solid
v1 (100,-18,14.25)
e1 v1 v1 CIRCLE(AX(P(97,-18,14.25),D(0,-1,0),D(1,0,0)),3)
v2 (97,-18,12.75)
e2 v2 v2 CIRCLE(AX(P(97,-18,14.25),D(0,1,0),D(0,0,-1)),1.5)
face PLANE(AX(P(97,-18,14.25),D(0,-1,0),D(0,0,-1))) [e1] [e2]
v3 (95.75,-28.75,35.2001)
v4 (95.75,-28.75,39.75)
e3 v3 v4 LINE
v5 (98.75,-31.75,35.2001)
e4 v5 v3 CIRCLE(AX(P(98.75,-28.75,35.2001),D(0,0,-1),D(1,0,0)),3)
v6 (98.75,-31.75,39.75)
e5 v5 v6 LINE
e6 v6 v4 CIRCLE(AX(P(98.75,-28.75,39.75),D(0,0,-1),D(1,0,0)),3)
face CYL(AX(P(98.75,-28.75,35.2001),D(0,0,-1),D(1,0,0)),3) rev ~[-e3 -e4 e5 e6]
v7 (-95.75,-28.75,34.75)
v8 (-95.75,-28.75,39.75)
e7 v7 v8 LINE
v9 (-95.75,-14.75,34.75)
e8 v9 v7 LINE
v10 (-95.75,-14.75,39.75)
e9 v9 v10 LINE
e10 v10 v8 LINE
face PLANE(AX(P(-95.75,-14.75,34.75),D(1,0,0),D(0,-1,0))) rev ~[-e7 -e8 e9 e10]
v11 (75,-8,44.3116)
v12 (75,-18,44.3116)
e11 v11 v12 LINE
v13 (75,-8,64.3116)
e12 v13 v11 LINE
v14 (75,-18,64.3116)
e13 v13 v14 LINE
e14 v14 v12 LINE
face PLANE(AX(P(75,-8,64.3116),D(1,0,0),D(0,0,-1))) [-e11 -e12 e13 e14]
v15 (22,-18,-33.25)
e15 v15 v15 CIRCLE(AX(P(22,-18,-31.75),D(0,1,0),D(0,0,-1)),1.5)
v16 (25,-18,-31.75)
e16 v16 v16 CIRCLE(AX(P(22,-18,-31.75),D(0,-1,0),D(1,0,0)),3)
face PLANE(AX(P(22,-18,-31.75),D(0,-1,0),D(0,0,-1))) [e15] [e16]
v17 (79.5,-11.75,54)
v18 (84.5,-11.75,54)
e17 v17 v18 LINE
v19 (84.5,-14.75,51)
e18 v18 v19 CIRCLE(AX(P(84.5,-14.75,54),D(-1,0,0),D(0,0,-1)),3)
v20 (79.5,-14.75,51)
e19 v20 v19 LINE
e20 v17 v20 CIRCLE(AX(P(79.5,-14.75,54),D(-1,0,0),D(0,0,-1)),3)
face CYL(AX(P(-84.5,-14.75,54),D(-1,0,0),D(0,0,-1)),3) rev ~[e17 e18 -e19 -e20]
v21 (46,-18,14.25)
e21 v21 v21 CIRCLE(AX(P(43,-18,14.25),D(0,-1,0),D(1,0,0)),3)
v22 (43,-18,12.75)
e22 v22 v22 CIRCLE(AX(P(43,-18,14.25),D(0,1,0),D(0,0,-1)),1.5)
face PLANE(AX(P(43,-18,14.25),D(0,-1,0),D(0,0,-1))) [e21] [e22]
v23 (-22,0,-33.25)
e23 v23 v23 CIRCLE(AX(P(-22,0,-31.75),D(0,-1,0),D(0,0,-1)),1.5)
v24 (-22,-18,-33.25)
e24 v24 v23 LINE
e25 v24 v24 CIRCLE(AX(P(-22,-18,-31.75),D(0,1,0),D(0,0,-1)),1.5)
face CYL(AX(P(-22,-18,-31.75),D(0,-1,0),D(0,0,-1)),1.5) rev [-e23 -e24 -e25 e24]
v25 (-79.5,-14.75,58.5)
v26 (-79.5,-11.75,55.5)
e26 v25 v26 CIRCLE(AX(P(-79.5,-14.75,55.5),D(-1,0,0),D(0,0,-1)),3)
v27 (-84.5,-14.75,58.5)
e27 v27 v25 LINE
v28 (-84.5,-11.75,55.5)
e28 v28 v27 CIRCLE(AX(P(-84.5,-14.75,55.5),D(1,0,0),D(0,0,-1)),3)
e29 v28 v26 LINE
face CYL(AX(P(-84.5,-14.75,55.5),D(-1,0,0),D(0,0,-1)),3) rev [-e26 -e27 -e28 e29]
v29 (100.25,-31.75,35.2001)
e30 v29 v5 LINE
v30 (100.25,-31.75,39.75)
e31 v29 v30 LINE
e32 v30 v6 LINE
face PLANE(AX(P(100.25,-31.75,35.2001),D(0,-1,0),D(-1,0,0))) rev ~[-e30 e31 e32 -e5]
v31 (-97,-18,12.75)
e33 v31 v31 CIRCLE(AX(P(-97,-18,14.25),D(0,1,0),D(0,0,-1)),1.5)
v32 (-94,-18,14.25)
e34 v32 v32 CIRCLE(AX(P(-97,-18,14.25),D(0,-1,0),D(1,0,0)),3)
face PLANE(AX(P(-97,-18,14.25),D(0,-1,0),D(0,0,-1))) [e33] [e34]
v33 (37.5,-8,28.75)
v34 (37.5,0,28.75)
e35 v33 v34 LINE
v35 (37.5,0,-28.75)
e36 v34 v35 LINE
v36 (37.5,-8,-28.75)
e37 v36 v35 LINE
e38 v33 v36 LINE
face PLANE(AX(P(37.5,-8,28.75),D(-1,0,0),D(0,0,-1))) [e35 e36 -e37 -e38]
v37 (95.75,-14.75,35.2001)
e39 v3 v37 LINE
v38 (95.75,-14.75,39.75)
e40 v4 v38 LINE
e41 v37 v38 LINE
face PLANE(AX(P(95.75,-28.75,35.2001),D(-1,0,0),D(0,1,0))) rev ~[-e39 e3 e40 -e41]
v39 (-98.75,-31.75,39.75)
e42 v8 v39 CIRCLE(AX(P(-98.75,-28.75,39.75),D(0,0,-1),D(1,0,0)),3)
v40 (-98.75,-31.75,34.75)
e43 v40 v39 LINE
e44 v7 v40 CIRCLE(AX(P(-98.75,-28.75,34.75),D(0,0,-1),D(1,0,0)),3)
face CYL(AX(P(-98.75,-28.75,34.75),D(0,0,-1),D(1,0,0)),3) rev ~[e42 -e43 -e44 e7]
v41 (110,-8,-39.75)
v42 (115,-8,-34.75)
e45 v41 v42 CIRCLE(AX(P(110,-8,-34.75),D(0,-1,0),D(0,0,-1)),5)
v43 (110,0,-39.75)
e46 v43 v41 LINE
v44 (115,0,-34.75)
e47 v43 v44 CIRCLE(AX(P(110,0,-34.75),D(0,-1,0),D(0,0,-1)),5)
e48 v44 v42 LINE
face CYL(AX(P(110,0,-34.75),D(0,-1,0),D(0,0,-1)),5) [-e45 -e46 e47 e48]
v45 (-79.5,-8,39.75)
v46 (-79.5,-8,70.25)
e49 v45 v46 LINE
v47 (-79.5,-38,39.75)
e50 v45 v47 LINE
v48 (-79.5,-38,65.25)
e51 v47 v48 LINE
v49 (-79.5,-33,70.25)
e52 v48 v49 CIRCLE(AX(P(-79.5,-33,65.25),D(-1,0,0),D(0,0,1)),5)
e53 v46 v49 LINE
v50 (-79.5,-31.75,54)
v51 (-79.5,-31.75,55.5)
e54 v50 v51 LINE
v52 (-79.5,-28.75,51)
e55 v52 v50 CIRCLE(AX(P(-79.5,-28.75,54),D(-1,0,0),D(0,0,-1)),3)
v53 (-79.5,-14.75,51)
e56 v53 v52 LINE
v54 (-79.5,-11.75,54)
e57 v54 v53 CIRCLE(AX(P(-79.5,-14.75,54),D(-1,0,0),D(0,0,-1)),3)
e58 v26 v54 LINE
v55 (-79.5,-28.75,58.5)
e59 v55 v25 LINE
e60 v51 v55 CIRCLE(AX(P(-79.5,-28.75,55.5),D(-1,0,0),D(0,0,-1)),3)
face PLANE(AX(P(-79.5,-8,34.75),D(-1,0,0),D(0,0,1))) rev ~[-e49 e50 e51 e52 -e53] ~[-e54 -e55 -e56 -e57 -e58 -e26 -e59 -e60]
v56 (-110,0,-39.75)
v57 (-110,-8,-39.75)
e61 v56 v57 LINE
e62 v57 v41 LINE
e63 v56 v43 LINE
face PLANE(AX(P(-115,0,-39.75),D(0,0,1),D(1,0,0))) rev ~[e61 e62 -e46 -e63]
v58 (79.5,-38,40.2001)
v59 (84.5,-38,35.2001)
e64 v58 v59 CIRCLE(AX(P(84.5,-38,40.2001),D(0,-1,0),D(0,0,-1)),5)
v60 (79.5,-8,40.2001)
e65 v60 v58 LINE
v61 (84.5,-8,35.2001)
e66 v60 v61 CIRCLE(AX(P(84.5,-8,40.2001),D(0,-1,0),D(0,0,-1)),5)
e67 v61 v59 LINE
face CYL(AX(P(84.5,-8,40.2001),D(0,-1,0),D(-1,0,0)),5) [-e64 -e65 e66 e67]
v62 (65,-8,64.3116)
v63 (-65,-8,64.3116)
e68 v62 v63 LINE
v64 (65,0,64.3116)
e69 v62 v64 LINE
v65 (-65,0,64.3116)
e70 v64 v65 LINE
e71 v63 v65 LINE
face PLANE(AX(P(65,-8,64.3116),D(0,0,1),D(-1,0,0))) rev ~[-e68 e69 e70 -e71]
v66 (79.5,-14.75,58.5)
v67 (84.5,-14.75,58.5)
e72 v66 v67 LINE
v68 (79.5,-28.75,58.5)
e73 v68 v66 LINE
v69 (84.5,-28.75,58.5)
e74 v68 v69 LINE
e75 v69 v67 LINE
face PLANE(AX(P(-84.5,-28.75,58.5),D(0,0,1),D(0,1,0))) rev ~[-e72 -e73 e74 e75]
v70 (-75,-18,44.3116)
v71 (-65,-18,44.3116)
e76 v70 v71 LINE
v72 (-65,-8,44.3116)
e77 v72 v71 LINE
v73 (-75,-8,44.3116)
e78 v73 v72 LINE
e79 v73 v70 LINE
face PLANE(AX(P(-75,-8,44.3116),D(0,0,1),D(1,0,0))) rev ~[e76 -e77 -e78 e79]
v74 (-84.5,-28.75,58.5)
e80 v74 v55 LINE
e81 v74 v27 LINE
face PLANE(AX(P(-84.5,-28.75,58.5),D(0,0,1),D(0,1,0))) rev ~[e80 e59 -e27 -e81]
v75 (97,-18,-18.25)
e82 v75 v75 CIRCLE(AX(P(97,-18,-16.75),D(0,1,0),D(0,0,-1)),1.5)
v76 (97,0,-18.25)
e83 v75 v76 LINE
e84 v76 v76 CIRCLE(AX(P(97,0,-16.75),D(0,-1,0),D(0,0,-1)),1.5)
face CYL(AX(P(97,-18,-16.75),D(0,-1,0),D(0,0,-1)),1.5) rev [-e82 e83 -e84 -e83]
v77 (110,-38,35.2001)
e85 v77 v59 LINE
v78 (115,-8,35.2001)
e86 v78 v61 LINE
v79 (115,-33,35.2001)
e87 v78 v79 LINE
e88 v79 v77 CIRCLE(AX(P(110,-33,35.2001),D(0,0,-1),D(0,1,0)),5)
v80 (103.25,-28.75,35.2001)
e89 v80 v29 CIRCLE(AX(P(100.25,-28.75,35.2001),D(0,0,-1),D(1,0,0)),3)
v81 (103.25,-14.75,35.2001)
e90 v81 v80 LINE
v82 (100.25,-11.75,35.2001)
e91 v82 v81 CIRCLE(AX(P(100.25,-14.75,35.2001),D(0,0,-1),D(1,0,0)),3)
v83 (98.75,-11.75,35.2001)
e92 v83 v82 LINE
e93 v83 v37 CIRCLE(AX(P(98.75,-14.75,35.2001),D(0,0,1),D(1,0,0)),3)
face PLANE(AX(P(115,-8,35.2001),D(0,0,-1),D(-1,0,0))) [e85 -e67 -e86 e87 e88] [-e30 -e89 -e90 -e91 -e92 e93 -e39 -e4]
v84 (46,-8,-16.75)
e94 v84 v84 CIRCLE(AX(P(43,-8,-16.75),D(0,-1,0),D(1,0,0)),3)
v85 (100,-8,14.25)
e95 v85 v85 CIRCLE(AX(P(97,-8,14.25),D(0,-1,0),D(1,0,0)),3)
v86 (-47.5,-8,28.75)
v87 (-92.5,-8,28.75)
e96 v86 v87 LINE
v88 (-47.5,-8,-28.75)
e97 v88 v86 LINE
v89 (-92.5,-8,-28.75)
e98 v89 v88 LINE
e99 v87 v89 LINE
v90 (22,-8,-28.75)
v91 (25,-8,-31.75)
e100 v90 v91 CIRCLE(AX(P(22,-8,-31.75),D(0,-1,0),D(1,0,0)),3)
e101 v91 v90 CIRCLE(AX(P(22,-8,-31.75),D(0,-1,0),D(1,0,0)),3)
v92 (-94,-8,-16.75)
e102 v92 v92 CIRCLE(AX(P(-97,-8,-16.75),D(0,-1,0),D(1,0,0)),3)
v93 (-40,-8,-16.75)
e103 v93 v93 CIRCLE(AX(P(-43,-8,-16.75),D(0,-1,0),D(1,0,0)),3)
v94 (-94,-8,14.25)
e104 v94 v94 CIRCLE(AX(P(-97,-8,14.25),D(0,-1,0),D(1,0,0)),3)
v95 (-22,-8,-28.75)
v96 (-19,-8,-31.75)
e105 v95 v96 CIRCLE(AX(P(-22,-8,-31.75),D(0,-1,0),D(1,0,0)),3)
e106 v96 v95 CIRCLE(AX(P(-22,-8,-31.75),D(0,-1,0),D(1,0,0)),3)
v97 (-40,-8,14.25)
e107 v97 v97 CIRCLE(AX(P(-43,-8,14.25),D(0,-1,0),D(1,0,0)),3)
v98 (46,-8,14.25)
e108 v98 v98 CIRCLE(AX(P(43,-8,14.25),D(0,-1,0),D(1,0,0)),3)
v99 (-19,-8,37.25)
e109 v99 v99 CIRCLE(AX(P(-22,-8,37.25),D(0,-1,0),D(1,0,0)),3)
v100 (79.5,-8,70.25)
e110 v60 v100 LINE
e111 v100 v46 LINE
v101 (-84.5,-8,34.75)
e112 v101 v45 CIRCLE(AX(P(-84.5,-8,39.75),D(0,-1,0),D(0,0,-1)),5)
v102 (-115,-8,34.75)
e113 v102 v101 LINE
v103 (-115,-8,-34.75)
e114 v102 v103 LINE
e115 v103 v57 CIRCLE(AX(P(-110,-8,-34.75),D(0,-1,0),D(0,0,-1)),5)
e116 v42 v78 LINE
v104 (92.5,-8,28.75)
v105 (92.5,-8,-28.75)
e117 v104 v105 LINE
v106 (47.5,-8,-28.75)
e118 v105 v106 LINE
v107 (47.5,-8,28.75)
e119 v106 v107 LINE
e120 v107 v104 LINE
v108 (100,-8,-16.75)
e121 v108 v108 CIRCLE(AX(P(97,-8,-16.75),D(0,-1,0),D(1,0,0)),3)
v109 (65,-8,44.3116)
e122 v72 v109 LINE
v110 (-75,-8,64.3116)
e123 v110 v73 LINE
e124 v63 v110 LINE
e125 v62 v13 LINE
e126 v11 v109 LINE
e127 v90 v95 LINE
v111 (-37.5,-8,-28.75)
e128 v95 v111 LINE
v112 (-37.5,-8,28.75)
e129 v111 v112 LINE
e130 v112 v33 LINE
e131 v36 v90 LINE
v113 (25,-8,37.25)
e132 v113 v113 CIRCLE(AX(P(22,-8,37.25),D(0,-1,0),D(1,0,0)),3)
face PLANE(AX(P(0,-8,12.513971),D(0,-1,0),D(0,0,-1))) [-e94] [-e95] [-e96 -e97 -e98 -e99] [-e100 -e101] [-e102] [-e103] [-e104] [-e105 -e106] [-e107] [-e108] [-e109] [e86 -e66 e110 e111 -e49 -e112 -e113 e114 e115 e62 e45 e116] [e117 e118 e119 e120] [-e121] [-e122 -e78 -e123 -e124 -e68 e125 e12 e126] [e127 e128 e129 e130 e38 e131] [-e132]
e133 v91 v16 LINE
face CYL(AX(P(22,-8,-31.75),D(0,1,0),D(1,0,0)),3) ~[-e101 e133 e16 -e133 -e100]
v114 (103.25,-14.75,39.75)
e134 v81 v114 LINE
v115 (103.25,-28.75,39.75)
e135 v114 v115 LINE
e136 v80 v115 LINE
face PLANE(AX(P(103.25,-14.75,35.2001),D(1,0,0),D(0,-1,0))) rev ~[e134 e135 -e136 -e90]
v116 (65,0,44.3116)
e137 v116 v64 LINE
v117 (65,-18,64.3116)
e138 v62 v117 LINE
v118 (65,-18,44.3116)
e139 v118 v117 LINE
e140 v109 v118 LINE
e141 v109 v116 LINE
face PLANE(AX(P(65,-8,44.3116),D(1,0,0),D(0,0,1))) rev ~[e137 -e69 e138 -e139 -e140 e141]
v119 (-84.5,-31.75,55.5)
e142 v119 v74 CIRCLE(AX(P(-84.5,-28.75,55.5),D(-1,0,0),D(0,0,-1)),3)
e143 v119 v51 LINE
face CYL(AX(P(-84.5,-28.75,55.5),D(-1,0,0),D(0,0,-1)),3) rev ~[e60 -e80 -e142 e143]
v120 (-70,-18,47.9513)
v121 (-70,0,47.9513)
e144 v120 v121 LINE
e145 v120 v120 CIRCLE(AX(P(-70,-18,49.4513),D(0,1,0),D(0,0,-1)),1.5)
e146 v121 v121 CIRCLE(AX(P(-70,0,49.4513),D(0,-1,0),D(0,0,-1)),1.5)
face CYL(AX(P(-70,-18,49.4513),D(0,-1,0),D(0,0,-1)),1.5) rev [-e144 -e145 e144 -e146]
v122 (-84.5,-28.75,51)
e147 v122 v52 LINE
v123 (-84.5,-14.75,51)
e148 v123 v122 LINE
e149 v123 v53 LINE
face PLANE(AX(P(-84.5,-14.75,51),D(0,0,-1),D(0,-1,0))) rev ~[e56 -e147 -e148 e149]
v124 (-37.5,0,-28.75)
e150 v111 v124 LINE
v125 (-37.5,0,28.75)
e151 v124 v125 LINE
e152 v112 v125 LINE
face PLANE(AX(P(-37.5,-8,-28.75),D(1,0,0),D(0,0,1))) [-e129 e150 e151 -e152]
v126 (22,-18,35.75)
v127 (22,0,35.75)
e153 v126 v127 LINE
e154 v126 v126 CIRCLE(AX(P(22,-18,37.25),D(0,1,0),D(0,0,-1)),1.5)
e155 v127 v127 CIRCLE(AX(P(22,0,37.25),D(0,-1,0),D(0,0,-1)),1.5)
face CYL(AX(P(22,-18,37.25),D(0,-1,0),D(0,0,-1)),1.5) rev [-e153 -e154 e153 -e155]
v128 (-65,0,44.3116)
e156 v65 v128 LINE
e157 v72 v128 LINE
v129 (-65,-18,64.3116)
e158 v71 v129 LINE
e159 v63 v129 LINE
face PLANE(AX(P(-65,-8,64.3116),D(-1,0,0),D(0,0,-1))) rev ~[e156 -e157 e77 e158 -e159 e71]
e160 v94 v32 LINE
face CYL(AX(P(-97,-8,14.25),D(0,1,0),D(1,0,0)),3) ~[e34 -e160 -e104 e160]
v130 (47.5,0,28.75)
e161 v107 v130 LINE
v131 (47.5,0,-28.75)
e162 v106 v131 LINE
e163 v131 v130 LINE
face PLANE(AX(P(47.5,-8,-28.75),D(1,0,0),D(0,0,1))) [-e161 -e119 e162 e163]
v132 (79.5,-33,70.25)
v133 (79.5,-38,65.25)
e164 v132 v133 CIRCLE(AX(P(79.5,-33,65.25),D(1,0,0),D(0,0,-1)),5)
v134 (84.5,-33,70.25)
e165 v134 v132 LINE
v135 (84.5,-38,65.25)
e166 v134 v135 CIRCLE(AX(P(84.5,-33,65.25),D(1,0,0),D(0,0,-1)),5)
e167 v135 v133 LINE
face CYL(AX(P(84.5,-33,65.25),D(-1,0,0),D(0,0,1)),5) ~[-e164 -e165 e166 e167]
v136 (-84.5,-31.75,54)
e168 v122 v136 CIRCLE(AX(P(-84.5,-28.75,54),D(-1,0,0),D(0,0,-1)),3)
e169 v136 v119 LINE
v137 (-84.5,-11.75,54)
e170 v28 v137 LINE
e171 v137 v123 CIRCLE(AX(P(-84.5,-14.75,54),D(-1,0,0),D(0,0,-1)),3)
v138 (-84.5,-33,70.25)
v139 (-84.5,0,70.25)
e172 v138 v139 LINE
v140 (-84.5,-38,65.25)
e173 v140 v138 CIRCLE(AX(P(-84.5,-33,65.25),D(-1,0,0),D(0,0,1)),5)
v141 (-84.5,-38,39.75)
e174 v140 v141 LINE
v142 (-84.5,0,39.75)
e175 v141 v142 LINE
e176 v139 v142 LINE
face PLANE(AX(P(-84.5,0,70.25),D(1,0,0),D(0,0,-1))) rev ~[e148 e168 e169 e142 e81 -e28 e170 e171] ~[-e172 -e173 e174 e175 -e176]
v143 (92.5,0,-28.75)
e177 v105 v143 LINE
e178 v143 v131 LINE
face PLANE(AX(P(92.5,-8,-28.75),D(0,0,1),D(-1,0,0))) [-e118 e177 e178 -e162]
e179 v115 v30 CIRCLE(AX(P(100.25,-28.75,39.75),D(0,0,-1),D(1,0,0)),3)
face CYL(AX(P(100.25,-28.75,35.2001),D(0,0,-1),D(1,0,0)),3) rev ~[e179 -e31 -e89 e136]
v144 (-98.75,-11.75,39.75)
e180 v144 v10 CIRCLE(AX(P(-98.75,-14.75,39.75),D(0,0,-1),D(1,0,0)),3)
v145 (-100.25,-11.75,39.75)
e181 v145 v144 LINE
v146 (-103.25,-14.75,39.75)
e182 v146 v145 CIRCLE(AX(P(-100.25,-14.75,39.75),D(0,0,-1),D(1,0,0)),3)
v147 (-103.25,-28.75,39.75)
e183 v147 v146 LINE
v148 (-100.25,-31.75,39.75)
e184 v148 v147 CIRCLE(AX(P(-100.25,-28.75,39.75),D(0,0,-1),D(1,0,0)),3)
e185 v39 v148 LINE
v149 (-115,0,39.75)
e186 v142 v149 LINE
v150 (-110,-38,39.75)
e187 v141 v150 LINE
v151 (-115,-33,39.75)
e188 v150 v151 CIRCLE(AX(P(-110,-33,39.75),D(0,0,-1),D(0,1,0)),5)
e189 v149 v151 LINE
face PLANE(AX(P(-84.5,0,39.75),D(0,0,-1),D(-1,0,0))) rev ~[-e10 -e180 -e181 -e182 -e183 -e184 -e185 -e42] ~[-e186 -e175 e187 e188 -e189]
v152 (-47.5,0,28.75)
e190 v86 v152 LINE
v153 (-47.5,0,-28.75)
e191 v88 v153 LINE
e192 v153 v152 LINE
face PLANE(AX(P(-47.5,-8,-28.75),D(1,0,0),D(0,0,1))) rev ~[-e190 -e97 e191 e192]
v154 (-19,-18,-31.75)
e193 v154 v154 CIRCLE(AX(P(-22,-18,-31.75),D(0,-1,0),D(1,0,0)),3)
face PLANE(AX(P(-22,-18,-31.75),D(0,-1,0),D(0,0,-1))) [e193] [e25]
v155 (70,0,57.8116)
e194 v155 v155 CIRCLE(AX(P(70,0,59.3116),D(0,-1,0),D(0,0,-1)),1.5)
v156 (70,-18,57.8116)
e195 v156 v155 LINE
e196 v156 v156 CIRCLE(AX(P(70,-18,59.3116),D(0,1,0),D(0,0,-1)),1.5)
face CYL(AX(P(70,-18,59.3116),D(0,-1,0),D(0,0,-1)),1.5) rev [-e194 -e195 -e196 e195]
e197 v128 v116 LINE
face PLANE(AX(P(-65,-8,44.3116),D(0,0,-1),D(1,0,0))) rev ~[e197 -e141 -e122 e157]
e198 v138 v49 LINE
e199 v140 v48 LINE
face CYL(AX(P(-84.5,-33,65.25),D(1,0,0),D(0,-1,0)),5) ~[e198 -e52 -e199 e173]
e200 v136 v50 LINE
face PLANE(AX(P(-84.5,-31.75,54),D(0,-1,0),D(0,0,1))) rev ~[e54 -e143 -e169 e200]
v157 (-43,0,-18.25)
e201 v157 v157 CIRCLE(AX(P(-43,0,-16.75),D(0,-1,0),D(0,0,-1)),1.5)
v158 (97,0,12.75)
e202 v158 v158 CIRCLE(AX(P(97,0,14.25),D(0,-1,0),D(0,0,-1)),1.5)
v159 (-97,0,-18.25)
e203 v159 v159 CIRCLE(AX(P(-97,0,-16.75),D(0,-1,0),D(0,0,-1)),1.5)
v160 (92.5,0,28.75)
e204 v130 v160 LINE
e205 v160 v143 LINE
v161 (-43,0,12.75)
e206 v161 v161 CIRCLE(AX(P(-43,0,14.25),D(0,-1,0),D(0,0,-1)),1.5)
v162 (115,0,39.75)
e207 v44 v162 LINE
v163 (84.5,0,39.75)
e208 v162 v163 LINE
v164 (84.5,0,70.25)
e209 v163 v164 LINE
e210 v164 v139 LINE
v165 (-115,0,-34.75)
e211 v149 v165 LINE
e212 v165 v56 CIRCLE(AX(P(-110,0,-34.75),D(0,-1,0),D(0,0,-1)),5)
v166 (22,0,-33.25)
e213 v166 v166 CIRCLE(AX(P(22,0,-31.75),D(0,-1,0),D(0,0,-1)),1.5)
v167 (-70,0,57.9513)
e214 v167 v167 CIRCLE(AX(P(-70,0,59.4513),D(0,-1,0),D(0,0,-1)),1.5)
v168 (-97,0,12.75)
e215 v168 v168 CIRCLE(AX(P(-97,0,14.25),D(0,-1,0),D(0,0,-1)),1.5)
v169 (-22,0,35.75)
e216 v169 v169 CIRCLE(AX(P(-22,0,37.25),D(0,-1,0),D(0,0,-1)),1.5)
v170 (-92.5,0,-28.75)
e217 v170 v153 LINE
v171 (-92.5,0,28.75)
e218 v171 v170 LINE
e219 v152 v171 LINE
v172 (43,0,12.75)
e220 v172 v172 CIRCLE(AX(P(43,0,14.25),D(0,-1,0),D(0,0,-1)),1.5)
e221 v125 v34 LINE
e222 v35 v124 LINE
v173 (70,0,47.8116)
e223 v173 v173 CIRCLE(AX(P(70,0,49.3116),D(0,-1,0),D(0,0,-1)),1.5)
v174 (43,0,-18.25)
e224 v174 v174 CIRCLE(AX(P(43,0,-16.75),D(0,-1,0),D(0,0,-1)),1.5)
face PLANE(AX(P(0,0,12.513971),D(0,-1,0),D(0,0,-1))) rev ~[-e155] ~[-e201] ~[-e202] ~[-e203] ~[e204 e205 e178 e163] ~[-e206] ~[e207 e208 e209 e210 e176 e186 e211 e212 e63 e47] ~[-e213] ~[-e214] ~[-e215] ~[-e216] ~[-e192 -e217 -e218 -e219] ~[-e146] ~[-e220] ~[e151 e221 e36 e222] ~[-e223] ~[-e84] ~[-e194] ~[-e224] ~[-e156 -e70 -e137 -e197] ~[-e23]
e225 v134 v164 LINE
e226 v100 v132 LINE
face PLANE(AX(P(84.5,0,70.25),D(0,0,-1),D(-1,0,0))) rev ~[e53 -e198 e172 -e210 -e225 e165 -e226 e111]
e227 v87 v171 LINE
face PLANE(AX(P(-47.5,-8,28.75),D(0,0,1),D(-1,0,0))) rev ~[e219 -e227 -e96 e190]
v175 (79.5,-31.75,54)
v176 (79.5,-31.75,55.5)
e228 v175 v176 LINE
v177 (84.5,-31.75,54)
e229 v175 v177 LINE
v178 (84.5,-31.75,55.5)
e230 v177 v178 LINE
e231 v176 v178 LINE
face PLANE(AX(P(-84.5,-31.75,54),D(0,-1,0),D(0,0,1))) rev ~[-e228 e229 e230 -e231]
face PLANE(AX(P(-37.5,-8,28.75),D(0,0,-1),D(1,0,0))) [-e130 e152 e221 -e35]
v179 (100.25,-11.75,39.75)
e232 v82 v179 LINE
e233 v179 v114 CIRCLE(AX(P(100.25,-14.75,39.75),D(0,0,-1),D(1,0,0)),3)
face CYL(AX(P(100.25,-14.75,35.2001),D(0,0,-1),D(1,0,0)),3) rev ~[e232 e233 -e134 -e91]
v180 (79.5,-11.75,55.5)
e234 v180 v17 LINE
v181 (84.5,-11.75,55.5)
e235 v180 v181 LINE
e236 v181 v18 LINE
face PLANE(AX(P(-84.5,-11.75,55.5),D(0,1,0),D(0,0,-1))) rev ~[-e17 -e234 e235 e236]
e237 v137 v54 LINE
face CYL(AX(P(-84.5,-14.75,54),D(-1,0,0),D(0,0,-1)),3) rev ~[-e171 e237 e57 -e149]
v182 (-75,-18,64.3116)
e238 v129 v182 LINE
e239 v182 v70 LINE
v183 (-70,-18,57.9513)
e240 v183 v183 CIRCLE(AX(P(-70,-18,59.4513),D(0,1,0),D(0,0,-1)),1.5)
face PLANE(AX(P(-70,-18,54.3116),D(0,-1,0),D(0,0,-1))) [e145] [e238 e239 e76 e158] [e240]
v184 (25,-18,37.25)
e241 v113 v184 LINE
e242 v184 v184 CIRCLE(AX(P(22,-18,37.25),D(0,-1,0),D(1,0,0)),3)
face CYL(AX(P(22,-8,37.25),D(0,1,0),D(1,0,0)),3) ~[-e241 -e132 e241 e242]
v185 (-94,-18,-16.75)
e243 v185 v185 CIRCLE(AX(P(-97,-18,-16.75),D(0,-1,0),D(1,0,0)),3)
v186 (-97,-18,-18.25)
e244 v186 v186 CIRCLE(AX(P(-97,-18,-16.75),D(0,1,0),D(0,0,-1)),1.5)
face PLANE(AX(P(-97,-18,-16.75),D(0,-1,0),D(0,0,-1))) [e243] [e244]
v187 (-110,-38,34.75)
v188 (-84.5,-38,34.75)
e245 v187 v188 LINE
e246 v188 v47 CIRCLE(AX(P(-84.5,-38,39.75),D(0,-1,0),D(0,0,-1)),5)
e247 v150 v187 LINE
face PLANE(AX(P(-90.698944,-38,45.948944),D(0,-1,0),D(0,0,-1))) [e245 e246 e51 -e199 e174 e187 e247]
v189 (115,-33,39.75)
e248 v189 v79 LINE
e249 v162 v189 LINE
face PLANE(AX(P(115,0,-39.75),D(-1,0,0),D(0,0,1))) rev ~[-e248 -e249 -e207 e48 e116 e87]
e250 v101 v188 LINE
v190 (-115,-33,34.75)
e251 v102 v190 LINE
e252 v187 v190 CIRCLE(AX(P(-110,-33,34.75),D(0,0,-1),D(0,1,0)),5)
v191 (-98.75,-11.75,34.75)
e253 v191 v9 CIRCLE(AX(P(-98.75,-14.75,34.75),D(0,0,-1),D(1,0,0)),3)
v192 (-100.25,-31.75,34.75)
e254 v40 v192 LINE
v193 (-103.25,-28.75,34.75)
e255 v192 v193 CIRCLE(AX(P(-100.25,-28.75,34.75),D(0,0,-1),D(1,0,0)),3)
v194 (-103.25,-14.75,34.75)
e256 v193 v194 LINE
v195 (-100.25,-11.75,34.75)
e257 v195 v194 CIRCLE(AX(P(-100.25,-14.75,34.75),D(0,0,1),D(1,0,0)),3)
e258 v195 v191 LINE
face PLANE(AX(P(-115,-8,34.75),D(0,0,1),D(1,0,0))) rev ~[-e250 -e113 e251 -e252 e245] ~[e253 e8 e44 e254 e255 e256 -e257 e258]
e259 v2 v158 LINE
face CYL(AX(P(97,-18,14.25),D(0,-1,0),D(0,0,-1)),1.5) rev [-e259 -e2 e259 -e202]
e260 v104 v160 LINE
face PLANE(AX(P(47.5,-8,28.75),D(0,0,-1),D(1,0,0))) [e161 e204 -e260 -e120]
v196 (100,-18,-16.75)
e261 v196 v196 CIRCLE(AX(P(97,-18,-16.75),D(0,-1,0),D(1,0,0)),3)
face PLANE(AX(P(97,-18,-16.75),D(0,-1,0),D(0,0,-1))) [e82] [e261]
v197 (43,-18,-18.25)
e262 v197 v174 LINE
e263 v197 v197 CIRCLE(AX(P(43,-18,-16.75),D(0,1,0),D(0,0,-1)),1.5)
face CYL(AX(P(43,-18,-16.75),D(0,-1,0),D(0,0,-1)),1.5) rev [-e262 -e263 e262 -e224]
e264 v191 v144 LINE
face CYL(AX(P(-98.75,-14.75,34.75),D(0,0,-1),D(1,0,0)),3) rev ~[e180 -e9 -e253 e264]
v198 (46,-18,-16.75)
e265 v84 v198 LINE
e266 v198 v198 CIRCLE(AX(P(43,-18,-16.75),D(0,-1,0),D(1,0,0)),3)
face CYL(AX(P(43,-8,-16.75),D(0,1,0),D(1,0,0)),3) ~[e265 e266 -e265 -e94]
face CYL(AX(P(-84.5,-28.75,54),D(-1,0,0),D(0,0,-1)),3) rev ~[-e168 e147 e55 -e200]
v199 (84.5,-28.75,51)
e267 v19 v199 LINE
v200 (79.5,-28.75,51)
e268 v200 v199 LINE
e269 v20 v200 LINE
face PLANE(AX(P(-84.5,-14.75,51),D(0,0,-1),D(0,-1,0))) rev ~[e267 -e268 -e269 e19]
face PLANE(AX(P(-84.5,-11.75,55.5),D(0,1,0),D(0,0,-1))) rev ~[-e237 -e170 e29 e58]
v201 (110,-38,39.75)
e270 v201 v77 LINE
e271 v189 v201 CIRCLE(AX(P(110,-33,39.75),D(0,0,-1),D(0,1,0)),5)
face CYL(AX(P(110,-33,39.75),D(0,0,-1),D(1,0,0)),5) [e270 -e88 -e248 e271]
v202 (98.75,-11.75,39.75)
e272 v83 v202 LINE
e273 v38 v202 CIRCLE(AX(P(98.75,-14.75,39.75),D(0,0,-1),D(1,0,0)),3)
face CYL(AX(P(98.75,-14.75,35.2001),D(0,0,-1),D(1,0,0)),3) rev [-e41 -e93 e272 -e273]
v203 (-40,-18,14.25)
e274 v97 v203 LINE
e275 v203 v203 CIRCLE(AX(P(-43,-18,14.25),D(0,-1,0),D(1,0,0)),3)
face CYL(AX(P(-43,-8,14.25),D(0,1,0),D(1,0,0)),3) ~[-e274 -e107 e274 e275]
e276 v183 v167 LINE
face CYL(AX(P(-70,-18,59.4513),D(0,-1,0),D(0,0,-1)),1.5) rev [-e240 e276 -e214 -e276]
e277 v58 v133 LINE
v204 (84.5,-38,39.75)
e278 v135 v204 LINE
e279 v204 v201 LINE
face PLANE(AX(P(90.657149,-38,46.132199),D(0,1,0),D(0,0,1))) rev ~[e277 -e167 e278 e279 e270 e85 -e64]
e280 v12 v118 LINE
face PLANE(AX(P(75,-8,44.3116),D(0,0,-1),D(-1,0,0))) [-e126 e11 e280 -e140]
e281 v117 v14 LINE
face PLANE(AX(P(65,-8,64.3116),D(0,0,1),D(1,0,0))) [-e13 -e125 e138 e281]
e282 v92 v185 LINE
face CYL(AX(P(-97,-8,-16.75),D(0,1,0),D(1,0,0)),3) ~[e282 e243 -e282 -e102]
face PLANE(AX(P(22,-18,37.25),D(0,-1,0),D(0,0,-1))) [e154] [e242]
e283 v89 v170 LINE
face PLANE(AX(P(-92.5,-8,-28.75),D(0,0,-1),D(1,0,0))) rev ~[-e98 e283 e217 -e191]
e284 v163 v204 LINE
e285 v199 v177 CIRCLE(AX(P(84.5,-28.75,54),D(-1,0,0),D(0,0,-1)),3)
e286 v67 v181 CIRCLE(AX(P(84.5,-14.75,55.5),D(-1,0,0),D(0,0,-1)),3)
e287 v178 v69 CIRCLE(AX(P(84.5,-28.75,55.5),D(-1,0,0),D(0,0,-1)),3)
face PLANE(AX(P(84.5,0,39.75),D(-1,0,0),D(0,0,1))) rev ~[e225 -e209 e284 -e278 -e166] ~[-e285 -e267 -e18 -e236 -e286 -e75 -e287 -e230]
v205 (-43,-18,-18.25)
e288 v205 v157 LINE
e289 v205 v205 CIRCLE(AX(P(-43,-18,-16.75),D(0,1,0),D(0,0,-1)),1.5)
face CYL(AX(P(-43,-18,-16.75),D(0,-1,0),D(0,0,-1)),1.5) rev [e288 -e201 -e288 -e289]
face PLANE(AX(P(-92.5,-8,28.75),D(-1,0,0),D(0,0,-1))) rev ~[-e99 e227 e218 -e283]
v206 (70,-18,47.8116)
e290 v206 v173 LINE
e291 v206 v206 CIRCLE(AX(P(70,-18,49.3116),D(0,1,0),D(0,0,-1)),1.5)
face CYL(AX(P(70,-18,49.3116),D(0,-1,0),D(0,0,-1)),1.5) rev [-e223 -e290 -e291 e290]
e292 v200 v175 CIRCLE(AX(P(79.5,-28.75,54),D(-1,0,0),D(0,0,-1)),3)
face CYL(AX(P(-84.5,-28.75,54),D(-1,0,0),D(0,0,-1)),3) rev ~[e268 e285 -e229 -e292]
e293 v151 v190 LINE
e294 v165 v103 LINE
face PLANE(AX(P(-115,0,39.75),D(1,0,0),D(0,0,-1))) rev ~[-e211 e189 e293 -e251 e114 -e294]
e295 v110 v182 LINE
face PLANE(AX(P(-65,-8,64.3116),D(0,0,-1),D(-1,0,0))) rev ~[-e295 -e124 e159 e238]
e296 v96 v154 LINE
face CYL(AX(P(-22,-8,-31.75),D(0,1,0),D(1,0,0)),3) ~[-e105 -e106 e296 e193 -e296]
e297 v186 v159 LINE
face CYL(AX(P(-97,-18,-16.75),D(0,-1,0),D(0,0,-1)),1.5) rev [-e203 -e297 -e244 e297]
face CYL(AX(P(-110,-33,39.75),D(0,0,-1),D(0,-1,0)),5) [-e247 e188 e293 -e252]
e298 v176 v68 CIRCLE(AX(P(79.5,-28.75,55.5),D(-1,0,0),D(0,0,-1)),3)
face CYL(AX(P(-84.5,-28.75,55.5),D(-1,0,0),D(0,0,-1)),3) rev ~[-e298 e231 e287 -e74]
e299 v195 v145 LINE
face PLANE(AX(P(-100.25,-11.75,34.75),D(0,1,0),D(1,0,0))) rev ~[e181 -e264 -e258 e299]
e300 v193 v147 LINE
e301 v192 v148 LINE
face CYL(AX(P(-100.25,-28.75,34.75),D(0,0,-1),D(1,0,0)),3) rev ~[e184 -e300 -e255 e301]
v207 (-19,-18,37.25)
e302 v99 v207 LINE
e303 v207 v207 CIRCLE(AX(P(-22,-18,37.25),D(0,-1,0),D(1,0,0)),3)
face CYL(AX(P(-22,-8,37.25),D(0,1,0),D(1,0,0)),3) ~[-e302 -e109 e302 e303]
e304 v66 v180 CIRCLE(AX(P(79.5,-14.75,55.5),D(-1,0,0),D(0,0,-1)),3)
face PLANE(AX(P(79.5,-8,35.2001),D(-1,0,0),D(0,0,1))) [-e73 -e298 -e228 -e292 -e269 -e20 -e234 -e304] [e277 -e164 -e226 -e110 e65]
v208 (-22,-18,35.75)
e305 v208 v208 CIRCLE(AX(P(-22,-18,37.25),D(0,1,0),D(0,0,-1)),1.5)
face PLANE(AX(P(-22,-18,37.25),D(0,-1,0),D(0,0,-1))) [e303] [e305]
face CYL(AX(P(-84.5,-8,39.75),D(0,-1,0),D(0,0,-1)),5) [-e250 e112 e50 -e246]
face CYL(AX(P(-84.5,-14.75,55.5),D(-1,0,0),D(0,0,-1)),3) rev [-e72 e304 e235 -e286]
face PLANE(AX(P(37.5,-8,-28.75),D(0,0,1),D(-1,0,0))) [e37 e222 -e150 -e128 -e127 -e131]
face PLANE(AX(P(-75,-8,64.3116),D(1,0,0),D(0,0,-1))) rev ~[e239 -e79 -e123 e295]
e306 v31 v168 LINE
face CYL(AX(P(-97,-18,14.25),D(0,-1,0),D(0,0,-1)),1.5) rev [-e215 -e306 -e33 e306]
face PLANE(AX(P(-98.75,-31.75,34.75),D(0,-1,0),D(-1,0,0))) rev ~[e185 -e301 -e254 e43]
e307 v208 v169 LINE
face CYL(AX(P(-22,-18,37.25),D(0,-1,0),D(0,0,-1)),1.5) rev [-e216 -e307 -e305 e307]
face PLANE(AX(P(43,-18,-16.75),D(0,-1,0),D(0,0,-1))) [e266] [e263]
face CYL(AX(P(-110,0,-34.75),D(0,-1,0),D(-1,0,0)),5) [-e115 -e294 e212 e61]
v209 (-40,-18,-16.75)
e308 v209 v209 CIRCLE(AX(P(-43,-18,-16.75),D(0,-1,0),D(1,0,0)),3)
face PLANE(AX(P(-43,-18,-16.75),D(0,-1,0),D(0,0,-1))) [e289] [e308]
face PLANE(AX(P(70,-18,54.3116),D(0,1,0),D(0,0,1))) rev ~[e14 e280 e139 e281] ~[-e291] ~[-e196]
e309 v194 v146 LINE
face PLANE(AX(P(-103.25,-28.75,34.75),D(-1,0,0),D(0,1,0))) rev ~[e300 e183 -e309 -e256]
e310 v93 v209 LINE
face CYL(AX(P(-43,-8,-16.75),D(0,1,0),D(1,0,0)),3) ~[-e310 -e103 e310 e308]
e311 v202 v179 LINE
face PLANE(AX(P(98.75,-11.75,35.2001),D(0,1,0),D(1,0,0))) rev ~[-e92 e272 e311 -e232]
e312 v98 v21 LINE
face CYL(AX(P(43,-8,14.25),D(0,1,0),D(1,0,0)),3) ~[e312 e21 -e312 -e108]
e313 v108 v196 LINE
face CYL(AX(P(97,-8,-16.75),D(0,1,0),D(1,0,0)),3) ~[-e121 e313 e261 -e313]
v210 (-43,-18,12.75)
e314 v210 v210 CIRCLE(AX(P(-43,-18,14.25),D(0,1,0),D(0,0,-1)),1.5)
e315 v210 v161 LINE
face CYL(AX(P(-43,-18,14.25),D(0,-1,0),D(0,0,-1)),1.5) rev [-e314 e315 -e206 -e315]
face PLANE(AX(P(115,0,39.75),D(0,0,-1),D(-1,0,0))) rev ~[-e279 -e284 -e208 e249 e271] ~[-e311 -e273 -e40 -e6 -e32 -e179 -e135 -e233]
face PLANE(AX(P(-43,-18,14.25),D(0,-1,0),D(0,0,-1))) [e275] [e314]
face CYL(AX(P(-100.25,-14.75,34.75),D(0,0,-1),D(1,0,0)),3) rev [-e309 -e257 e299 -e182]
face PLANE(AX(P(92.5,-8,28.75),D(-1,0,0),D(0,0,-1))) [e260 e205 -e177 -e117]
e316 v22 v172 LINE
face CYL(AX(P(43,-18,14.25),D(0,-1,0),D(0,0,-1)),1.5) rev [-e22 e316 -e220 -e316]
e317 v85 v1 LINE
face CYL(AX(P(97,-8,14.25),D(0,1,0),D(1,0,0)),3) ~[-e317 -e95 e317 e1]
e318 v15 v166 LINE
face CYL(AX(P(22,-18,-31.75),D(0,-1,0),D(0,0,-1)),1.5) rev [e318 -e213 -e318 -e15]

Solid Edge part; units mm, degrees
sketch "Sketch1" plane through (0, 0, 0) normal (0, -1, 0) x (1, 0, 0)
  line L0 (-84.5, 39.75) -> (-115, 39.75)
  line L1 (-115, 39.75) -> (-115, -39.75)
  line L2 (-115, -39.75) -> (115, -39.75)
  line L3 (115, -39.75) -> (115, 39.75)
  line L4 (115, 39.75) -> (84.5, 39.75)
  line L5 (84.5, 39.75) -> (84.5, 70.25)
  line L6 (84.5, 70.25) -> (-84.5, 70.25)
  line L7 (-84.5, 70.25) -> (-84.5, 39.75)
extrude "Protrusion1" add sketch "Sketch1" along normal blind 8
sketch "Sketch2" plane through (0, -8, 15.25) normal (0, -1, 0) x (1, 0, 0)
  line L0 (-115, 24.5) -> (-115, 19.5)
  line L1 (-115, 19.5) -> (-79.5, 19.5)
  line L2 (-79.5, 19.5) -> (-79.5, 55)
  line L3 (-84.5, 55) -> (-79.5, 55)
  line L4 (-84.5, 55) -> (-84.5, 24.5)
  line L5 (-84.5, 24.5) -> (-115, 24.5)
  line L6 (115, 19.9501) -> (79.5, 19.9501)
  line L7 (79.5, 19.9501) -> (79.5, 55)
  line L8 (84.5, 55) -> (79.5, 55)
  line L9 (84.5, 55) -> (84.5, 24.5)
  line L10 (84.5, 24.5) -> (115, 24.5)
  line L11 (115, 24.5) -> (115, 19.9501)
extrude "Protrusion2" add sketch "Sketch2" along normal blind 30
sketch "Sketch3" plane through (-97.25, -23, 34.75) normal (0, 0, -1) x (1, 0, 0)
  line L0 (1.5, -2.75) -> (1.5, 0.25) construction
  line L1 (1.5, -8.25) -> (1.5, 5.75)
  arc A0 (1.5, 5.75) -> (-1.5, 8.75) centre (-1.5, 5.75) ccw
  line L2 (-1.5, 8.75) -> (-3, 8.75)
  arc A1 (-3, 8.75) -> (-6, 5.75) centre (-3, 5.75) ccw
  line L3 (-6, 5.75) -> (-6, -8.25)
  line L4 (-6, 0.25) -> (-6, -2.75) construction
  arc A2 (-3, -11.25) -> (-6, -8.25) centre (-3, -8.25) cw
  line L5 (-3, -11.25) -> (-1.5, -11.25)
  arc A3 (-1.5, -11.25) -> (1.5, -8.25) centre (-1.5, -8.25) ccw
extrude "Cutout1" cut sketch "Sketch3" against normal blind 20
sketch "Sketch4" plane through (97.25, -23, 35.2001) normal (0, 0, -1) x (1, 0, 0)
  line L0 (6, -2.75) -> (6, 0.25) construction
  line L1 (6, -8.25) -> (6, 5.75)
  arc A0 (6, 5.75) -> (3, 8.75) centre (3, 5.75) ccw
  line L2 (3, 8.75) -> (1.5, 8.75)
  arc A1 (1.5, 8.75) -> (-1.5, 5.75) centre (1.5, 5.75) ccw
  line L3 (-1.5, 5.75) -> (-1.5, -8.25)
  line L4 (-1.5, 0.25) -> (-1.5, -2.75) construction
  arc A2 (1.5, -11.25) -> (-1.5, -8.25) centre (1.5, -8.25) cw
  line L5 (1.5, -11.25) -> (3, -11.25)
  arc A3 (3, -11.25) -> (6, -8.25) centre (3, -8.25) ccw
extrude "Cutout2" cut sketch "Sketch4" against normal blind 40
sketch "Sketch5" plane through (-84.5, -19, 55) normal (-1, 0, 0) x (0, 0, -1)
  line L0 (4, 1.25) -> (4, 4.25) construction
  line L1 (4, -4.25) -> (4, 9.75)
  arc A0 (4, 9.75) -> (1, 12.75) centre (1, 9.75) ccw
  line L2 (1, 12.75) -> (-0.5, 12.75)
  arc A1 (-0.5, 12.75) -> (-3.5, 9.75) centre (-0.5, 9.75) ccw
  line L3 (-3.5, 9.75) -> (-3.5, -4.25)
  line L4 (-3.5, 4.25) -> (-3.5, 1.25) construction
  arc A2 (-0.5, -7.25) -> (-3.5, -4.25) centre (-0.5, -4.25) cw
  line L5 (-0.5, -7.25) -> (1, -7.25)
  arc A3 (1, -7.25) -> (4, -4.25) centre (1, -4.25) ccw
extrude "Cutout3" cut sketch "Sketch5" against normal blind 200
sketch "Sketch6" plane through (0, -8, 15.25) normal (0, -1, 0) x (1, 0, 0)
  circle A0 centre (-22, 22) radius 3
  circle A1 centre (22, 22) radius 3
  circle A2 centre (22, -47) radius 3
  circle A3 centre (-22, -47) radius 3
  circle A4 centre (-43, -32) radius 3
  circle A5 centre (-43, -1) radius 3
  circle A6 centre (-97, -1) radius 3
  circle A7 centre (-97, -32) radius 3
  circle A8 centre (43, -32) radius 3
  circle A9 centre (43, -1) radius 3
  circle A10 centre (97, -1) radius 3
  circle A11 centre (97, -32) radius 3
  dimension "D1" = 37
  dimension "D2" = 60
  dimension "D3" = 50
  dimension "D4" = 75
  dimension "D5" = 60
  dimension "D6" = 37
  dimension "D7" = 5
  dimension "D8" = 15
  dimension "D9" = 15
  dimension "D10" = 3
  dimension "D11" = 3
  dimension "D12" = 3
  dimension "D13" = 3
  dimension "D14" = 3
  dimension "D15" = 20
  dimension "D16" = 20
  dimension "D17" = 3
  dimension "D18" = 3
  dimension "D19" = 3
  dimension "D20" = 3
  dimension "D21" = 3
  dimension "D22" = 56
  dimension "D23" = 41
  dimension "D24" = 28
extrude "Protrusion3" add sketch "Sketch6" along normal blind 10
hole "Hole1" at (-22, -18, 37.25) direction (0, 1, 0) diameter 3 end up to next
hole "Hole2" at (22, -18, 37.25) direction (0, 1, 0) diameter 3 end up to next
hole "Hole3" at (43, -18, 14.25) direction (0, 1, 0) diameter 3 end up to next
hole "Hole4" at (97, -18, 14.25) direction (0, 1, 0) diameter 3 end up to next
hole "Hole5" at (97, -18, -16.75) direction (0, 1, 0) diameter 3 end up to next
hole "Hole6" at (43, -18, -16.75) direction (0, 1, 0) diameter 3 end up to next
hole "Hole7" at (22, -18, -31.75) direction (0, 1, 0) diameter 3 end up to next
hole "Hole8" at (-22, -18, -31.75) direction (0, 1, 0) diameter 3 end up to next
hole "Hole9" at (-43, -18, -16.75) direction (0, 1, 0) diameter 3 end up to next
hole "Hole10" at (-43, -18, 14.25) direction (0, 1, 0) diameter 3 end up to next
hole "Hole11" at (-97, -18, 14.25) direction (0, 1, 0) diameter 3 end up to next
hole "Hole12" at (-97, -18, -16.75) direction (0, 1, 0) diameter 3 end up to next
sketch "Sketch7" plane through (0, -8, 15.25) normal (0, -1, 0) x (1, 0, 0)
  line L0 (65, 49.0616) -> (-65, 49.0616)
  line L1 (-65, 49.0616) -> (-65, 29.0616)
  line L2 (-65, 29.0616) -> (65, 29.0616)
  line L3 (65, 29.0616) -> (65, 49.0616)
  line L4 (-37.5, 13.5) -> (37.5, 13.5)
  line L5 (37.5, 13.5) -> (37.5, -44)
  line L6 (37.5, -44) -> (-37.5, -44)
  line L7 (-37.5, -44) -> (-37.5, 13.5)
  line L8 (-47.5, 13.5) -> (-92.5, 13.5)
  line L9 (-92.5, 13.5) -> (-92.5, -44)
  line L10 (-92.5, -44) -> (-47.5, -44)
  line L11 (-47.5, -44) -> (-47.5, 13.5)
  line L12 (47.5, 13.5) -> (92.5, 13.5)
  line L13 (92.5, 13.5) -> (92.5, -44)
  line L14 (92.5, -44) -> (47.5, -44)
  line L15 (47.5, -44) -> (47.5, 13.5)
  dimension "D1" = 20
  dimension "D2" = 130
  dimension "D3" = 75
  dimension "D4" = 57.5
  dimension "D5" = 57.5
  dimension "D6" = 57.5
  dimension "D7" = 45
  dimension "D8" = 45
  dimension "D9" = 10
  dimension "D10" = 10
  dimension "D11" = 11
  dimension "D12" = 11
  dimension "D13" = 15.5616
  dimension "D14" = 19.5
  dimension "D15" = 10
  dimension "D16" = 20
  dimension "D17" = 10
  dimension "D18" = 20
extrude "Cutout4" cut sketch "Sketch7" against normal blind 30
sketch "Sketch8" plane through (0, -8, 15.25) normal (0, -1, 0) x (1, 0, 0)
  line L0 (-75, 49.0616) -> (-75, 29.0616)
  line L1 (-75, 29.0616) -> (-65, 29.0616)
  line L2 (-65, 29.0616) -> (-65, 49.0616)
  line L3 (-65, 49.0616) -> (-75, 49.0616)
  line L4 (75, 29.0616) -> (65, 29.0616)
  line L5 (65, 29.0616) -> (65, 49.0616)
  line L6 (65, 49.0616) -> (75, 49.0616)
  line L7 (75, 49.0616) -> (75, 29.0616)
  dimension "D1" = 20
  dimension "D2" = 130
  dimension "D3" = 75
  dimension "D4" = 57.5
  dimension "D5" = 57.5
  dimension "D6" = 57.5
  dimension "D7" = 45
  dimension "D8" = 45
  dimension "D9" = 10
  dimension "D10" = 10
  dimension "D11" = 11
  dimension "D12" = 11
  dimension "D13" = 15.5616
  dimension "D14" = 19.5
  dimension "D15" = 10
  dimension "D16" = 20
  dimension "D17" = 10
  dimension "D18" = 20
extrude "Protrusion4" add sketch "Sketch8" along normal blind 10
hole "Hole13" at (-70, -18, 59.4513) direction (0, 1, 0) diameter 3 end up to next
hole "Hole14" at (-70, -18, 49.4513) direction (0, 1, 0) diameter 3 end up to next
hole "Hole15" at (70, -18, 59.3116) direction (0, 1, 0) diameter 3 end up to next
hole "Hole16" at (70, -18, 49.3116) direction (0, 1, 0) diameter 3 end up to next
fillet "Round1" radius 5 6 edges at (82, -38, 70.25) (115, -38, 37.4751) (-82, -38, 70.25) (-115, -38, 37.25) (-115, -4, -39.75) (115, -4, -39.75)
fillet "Round2" radius 5 2 edges at (79.5, -23, 35.2001) (-79.5, -23, 34.75)
